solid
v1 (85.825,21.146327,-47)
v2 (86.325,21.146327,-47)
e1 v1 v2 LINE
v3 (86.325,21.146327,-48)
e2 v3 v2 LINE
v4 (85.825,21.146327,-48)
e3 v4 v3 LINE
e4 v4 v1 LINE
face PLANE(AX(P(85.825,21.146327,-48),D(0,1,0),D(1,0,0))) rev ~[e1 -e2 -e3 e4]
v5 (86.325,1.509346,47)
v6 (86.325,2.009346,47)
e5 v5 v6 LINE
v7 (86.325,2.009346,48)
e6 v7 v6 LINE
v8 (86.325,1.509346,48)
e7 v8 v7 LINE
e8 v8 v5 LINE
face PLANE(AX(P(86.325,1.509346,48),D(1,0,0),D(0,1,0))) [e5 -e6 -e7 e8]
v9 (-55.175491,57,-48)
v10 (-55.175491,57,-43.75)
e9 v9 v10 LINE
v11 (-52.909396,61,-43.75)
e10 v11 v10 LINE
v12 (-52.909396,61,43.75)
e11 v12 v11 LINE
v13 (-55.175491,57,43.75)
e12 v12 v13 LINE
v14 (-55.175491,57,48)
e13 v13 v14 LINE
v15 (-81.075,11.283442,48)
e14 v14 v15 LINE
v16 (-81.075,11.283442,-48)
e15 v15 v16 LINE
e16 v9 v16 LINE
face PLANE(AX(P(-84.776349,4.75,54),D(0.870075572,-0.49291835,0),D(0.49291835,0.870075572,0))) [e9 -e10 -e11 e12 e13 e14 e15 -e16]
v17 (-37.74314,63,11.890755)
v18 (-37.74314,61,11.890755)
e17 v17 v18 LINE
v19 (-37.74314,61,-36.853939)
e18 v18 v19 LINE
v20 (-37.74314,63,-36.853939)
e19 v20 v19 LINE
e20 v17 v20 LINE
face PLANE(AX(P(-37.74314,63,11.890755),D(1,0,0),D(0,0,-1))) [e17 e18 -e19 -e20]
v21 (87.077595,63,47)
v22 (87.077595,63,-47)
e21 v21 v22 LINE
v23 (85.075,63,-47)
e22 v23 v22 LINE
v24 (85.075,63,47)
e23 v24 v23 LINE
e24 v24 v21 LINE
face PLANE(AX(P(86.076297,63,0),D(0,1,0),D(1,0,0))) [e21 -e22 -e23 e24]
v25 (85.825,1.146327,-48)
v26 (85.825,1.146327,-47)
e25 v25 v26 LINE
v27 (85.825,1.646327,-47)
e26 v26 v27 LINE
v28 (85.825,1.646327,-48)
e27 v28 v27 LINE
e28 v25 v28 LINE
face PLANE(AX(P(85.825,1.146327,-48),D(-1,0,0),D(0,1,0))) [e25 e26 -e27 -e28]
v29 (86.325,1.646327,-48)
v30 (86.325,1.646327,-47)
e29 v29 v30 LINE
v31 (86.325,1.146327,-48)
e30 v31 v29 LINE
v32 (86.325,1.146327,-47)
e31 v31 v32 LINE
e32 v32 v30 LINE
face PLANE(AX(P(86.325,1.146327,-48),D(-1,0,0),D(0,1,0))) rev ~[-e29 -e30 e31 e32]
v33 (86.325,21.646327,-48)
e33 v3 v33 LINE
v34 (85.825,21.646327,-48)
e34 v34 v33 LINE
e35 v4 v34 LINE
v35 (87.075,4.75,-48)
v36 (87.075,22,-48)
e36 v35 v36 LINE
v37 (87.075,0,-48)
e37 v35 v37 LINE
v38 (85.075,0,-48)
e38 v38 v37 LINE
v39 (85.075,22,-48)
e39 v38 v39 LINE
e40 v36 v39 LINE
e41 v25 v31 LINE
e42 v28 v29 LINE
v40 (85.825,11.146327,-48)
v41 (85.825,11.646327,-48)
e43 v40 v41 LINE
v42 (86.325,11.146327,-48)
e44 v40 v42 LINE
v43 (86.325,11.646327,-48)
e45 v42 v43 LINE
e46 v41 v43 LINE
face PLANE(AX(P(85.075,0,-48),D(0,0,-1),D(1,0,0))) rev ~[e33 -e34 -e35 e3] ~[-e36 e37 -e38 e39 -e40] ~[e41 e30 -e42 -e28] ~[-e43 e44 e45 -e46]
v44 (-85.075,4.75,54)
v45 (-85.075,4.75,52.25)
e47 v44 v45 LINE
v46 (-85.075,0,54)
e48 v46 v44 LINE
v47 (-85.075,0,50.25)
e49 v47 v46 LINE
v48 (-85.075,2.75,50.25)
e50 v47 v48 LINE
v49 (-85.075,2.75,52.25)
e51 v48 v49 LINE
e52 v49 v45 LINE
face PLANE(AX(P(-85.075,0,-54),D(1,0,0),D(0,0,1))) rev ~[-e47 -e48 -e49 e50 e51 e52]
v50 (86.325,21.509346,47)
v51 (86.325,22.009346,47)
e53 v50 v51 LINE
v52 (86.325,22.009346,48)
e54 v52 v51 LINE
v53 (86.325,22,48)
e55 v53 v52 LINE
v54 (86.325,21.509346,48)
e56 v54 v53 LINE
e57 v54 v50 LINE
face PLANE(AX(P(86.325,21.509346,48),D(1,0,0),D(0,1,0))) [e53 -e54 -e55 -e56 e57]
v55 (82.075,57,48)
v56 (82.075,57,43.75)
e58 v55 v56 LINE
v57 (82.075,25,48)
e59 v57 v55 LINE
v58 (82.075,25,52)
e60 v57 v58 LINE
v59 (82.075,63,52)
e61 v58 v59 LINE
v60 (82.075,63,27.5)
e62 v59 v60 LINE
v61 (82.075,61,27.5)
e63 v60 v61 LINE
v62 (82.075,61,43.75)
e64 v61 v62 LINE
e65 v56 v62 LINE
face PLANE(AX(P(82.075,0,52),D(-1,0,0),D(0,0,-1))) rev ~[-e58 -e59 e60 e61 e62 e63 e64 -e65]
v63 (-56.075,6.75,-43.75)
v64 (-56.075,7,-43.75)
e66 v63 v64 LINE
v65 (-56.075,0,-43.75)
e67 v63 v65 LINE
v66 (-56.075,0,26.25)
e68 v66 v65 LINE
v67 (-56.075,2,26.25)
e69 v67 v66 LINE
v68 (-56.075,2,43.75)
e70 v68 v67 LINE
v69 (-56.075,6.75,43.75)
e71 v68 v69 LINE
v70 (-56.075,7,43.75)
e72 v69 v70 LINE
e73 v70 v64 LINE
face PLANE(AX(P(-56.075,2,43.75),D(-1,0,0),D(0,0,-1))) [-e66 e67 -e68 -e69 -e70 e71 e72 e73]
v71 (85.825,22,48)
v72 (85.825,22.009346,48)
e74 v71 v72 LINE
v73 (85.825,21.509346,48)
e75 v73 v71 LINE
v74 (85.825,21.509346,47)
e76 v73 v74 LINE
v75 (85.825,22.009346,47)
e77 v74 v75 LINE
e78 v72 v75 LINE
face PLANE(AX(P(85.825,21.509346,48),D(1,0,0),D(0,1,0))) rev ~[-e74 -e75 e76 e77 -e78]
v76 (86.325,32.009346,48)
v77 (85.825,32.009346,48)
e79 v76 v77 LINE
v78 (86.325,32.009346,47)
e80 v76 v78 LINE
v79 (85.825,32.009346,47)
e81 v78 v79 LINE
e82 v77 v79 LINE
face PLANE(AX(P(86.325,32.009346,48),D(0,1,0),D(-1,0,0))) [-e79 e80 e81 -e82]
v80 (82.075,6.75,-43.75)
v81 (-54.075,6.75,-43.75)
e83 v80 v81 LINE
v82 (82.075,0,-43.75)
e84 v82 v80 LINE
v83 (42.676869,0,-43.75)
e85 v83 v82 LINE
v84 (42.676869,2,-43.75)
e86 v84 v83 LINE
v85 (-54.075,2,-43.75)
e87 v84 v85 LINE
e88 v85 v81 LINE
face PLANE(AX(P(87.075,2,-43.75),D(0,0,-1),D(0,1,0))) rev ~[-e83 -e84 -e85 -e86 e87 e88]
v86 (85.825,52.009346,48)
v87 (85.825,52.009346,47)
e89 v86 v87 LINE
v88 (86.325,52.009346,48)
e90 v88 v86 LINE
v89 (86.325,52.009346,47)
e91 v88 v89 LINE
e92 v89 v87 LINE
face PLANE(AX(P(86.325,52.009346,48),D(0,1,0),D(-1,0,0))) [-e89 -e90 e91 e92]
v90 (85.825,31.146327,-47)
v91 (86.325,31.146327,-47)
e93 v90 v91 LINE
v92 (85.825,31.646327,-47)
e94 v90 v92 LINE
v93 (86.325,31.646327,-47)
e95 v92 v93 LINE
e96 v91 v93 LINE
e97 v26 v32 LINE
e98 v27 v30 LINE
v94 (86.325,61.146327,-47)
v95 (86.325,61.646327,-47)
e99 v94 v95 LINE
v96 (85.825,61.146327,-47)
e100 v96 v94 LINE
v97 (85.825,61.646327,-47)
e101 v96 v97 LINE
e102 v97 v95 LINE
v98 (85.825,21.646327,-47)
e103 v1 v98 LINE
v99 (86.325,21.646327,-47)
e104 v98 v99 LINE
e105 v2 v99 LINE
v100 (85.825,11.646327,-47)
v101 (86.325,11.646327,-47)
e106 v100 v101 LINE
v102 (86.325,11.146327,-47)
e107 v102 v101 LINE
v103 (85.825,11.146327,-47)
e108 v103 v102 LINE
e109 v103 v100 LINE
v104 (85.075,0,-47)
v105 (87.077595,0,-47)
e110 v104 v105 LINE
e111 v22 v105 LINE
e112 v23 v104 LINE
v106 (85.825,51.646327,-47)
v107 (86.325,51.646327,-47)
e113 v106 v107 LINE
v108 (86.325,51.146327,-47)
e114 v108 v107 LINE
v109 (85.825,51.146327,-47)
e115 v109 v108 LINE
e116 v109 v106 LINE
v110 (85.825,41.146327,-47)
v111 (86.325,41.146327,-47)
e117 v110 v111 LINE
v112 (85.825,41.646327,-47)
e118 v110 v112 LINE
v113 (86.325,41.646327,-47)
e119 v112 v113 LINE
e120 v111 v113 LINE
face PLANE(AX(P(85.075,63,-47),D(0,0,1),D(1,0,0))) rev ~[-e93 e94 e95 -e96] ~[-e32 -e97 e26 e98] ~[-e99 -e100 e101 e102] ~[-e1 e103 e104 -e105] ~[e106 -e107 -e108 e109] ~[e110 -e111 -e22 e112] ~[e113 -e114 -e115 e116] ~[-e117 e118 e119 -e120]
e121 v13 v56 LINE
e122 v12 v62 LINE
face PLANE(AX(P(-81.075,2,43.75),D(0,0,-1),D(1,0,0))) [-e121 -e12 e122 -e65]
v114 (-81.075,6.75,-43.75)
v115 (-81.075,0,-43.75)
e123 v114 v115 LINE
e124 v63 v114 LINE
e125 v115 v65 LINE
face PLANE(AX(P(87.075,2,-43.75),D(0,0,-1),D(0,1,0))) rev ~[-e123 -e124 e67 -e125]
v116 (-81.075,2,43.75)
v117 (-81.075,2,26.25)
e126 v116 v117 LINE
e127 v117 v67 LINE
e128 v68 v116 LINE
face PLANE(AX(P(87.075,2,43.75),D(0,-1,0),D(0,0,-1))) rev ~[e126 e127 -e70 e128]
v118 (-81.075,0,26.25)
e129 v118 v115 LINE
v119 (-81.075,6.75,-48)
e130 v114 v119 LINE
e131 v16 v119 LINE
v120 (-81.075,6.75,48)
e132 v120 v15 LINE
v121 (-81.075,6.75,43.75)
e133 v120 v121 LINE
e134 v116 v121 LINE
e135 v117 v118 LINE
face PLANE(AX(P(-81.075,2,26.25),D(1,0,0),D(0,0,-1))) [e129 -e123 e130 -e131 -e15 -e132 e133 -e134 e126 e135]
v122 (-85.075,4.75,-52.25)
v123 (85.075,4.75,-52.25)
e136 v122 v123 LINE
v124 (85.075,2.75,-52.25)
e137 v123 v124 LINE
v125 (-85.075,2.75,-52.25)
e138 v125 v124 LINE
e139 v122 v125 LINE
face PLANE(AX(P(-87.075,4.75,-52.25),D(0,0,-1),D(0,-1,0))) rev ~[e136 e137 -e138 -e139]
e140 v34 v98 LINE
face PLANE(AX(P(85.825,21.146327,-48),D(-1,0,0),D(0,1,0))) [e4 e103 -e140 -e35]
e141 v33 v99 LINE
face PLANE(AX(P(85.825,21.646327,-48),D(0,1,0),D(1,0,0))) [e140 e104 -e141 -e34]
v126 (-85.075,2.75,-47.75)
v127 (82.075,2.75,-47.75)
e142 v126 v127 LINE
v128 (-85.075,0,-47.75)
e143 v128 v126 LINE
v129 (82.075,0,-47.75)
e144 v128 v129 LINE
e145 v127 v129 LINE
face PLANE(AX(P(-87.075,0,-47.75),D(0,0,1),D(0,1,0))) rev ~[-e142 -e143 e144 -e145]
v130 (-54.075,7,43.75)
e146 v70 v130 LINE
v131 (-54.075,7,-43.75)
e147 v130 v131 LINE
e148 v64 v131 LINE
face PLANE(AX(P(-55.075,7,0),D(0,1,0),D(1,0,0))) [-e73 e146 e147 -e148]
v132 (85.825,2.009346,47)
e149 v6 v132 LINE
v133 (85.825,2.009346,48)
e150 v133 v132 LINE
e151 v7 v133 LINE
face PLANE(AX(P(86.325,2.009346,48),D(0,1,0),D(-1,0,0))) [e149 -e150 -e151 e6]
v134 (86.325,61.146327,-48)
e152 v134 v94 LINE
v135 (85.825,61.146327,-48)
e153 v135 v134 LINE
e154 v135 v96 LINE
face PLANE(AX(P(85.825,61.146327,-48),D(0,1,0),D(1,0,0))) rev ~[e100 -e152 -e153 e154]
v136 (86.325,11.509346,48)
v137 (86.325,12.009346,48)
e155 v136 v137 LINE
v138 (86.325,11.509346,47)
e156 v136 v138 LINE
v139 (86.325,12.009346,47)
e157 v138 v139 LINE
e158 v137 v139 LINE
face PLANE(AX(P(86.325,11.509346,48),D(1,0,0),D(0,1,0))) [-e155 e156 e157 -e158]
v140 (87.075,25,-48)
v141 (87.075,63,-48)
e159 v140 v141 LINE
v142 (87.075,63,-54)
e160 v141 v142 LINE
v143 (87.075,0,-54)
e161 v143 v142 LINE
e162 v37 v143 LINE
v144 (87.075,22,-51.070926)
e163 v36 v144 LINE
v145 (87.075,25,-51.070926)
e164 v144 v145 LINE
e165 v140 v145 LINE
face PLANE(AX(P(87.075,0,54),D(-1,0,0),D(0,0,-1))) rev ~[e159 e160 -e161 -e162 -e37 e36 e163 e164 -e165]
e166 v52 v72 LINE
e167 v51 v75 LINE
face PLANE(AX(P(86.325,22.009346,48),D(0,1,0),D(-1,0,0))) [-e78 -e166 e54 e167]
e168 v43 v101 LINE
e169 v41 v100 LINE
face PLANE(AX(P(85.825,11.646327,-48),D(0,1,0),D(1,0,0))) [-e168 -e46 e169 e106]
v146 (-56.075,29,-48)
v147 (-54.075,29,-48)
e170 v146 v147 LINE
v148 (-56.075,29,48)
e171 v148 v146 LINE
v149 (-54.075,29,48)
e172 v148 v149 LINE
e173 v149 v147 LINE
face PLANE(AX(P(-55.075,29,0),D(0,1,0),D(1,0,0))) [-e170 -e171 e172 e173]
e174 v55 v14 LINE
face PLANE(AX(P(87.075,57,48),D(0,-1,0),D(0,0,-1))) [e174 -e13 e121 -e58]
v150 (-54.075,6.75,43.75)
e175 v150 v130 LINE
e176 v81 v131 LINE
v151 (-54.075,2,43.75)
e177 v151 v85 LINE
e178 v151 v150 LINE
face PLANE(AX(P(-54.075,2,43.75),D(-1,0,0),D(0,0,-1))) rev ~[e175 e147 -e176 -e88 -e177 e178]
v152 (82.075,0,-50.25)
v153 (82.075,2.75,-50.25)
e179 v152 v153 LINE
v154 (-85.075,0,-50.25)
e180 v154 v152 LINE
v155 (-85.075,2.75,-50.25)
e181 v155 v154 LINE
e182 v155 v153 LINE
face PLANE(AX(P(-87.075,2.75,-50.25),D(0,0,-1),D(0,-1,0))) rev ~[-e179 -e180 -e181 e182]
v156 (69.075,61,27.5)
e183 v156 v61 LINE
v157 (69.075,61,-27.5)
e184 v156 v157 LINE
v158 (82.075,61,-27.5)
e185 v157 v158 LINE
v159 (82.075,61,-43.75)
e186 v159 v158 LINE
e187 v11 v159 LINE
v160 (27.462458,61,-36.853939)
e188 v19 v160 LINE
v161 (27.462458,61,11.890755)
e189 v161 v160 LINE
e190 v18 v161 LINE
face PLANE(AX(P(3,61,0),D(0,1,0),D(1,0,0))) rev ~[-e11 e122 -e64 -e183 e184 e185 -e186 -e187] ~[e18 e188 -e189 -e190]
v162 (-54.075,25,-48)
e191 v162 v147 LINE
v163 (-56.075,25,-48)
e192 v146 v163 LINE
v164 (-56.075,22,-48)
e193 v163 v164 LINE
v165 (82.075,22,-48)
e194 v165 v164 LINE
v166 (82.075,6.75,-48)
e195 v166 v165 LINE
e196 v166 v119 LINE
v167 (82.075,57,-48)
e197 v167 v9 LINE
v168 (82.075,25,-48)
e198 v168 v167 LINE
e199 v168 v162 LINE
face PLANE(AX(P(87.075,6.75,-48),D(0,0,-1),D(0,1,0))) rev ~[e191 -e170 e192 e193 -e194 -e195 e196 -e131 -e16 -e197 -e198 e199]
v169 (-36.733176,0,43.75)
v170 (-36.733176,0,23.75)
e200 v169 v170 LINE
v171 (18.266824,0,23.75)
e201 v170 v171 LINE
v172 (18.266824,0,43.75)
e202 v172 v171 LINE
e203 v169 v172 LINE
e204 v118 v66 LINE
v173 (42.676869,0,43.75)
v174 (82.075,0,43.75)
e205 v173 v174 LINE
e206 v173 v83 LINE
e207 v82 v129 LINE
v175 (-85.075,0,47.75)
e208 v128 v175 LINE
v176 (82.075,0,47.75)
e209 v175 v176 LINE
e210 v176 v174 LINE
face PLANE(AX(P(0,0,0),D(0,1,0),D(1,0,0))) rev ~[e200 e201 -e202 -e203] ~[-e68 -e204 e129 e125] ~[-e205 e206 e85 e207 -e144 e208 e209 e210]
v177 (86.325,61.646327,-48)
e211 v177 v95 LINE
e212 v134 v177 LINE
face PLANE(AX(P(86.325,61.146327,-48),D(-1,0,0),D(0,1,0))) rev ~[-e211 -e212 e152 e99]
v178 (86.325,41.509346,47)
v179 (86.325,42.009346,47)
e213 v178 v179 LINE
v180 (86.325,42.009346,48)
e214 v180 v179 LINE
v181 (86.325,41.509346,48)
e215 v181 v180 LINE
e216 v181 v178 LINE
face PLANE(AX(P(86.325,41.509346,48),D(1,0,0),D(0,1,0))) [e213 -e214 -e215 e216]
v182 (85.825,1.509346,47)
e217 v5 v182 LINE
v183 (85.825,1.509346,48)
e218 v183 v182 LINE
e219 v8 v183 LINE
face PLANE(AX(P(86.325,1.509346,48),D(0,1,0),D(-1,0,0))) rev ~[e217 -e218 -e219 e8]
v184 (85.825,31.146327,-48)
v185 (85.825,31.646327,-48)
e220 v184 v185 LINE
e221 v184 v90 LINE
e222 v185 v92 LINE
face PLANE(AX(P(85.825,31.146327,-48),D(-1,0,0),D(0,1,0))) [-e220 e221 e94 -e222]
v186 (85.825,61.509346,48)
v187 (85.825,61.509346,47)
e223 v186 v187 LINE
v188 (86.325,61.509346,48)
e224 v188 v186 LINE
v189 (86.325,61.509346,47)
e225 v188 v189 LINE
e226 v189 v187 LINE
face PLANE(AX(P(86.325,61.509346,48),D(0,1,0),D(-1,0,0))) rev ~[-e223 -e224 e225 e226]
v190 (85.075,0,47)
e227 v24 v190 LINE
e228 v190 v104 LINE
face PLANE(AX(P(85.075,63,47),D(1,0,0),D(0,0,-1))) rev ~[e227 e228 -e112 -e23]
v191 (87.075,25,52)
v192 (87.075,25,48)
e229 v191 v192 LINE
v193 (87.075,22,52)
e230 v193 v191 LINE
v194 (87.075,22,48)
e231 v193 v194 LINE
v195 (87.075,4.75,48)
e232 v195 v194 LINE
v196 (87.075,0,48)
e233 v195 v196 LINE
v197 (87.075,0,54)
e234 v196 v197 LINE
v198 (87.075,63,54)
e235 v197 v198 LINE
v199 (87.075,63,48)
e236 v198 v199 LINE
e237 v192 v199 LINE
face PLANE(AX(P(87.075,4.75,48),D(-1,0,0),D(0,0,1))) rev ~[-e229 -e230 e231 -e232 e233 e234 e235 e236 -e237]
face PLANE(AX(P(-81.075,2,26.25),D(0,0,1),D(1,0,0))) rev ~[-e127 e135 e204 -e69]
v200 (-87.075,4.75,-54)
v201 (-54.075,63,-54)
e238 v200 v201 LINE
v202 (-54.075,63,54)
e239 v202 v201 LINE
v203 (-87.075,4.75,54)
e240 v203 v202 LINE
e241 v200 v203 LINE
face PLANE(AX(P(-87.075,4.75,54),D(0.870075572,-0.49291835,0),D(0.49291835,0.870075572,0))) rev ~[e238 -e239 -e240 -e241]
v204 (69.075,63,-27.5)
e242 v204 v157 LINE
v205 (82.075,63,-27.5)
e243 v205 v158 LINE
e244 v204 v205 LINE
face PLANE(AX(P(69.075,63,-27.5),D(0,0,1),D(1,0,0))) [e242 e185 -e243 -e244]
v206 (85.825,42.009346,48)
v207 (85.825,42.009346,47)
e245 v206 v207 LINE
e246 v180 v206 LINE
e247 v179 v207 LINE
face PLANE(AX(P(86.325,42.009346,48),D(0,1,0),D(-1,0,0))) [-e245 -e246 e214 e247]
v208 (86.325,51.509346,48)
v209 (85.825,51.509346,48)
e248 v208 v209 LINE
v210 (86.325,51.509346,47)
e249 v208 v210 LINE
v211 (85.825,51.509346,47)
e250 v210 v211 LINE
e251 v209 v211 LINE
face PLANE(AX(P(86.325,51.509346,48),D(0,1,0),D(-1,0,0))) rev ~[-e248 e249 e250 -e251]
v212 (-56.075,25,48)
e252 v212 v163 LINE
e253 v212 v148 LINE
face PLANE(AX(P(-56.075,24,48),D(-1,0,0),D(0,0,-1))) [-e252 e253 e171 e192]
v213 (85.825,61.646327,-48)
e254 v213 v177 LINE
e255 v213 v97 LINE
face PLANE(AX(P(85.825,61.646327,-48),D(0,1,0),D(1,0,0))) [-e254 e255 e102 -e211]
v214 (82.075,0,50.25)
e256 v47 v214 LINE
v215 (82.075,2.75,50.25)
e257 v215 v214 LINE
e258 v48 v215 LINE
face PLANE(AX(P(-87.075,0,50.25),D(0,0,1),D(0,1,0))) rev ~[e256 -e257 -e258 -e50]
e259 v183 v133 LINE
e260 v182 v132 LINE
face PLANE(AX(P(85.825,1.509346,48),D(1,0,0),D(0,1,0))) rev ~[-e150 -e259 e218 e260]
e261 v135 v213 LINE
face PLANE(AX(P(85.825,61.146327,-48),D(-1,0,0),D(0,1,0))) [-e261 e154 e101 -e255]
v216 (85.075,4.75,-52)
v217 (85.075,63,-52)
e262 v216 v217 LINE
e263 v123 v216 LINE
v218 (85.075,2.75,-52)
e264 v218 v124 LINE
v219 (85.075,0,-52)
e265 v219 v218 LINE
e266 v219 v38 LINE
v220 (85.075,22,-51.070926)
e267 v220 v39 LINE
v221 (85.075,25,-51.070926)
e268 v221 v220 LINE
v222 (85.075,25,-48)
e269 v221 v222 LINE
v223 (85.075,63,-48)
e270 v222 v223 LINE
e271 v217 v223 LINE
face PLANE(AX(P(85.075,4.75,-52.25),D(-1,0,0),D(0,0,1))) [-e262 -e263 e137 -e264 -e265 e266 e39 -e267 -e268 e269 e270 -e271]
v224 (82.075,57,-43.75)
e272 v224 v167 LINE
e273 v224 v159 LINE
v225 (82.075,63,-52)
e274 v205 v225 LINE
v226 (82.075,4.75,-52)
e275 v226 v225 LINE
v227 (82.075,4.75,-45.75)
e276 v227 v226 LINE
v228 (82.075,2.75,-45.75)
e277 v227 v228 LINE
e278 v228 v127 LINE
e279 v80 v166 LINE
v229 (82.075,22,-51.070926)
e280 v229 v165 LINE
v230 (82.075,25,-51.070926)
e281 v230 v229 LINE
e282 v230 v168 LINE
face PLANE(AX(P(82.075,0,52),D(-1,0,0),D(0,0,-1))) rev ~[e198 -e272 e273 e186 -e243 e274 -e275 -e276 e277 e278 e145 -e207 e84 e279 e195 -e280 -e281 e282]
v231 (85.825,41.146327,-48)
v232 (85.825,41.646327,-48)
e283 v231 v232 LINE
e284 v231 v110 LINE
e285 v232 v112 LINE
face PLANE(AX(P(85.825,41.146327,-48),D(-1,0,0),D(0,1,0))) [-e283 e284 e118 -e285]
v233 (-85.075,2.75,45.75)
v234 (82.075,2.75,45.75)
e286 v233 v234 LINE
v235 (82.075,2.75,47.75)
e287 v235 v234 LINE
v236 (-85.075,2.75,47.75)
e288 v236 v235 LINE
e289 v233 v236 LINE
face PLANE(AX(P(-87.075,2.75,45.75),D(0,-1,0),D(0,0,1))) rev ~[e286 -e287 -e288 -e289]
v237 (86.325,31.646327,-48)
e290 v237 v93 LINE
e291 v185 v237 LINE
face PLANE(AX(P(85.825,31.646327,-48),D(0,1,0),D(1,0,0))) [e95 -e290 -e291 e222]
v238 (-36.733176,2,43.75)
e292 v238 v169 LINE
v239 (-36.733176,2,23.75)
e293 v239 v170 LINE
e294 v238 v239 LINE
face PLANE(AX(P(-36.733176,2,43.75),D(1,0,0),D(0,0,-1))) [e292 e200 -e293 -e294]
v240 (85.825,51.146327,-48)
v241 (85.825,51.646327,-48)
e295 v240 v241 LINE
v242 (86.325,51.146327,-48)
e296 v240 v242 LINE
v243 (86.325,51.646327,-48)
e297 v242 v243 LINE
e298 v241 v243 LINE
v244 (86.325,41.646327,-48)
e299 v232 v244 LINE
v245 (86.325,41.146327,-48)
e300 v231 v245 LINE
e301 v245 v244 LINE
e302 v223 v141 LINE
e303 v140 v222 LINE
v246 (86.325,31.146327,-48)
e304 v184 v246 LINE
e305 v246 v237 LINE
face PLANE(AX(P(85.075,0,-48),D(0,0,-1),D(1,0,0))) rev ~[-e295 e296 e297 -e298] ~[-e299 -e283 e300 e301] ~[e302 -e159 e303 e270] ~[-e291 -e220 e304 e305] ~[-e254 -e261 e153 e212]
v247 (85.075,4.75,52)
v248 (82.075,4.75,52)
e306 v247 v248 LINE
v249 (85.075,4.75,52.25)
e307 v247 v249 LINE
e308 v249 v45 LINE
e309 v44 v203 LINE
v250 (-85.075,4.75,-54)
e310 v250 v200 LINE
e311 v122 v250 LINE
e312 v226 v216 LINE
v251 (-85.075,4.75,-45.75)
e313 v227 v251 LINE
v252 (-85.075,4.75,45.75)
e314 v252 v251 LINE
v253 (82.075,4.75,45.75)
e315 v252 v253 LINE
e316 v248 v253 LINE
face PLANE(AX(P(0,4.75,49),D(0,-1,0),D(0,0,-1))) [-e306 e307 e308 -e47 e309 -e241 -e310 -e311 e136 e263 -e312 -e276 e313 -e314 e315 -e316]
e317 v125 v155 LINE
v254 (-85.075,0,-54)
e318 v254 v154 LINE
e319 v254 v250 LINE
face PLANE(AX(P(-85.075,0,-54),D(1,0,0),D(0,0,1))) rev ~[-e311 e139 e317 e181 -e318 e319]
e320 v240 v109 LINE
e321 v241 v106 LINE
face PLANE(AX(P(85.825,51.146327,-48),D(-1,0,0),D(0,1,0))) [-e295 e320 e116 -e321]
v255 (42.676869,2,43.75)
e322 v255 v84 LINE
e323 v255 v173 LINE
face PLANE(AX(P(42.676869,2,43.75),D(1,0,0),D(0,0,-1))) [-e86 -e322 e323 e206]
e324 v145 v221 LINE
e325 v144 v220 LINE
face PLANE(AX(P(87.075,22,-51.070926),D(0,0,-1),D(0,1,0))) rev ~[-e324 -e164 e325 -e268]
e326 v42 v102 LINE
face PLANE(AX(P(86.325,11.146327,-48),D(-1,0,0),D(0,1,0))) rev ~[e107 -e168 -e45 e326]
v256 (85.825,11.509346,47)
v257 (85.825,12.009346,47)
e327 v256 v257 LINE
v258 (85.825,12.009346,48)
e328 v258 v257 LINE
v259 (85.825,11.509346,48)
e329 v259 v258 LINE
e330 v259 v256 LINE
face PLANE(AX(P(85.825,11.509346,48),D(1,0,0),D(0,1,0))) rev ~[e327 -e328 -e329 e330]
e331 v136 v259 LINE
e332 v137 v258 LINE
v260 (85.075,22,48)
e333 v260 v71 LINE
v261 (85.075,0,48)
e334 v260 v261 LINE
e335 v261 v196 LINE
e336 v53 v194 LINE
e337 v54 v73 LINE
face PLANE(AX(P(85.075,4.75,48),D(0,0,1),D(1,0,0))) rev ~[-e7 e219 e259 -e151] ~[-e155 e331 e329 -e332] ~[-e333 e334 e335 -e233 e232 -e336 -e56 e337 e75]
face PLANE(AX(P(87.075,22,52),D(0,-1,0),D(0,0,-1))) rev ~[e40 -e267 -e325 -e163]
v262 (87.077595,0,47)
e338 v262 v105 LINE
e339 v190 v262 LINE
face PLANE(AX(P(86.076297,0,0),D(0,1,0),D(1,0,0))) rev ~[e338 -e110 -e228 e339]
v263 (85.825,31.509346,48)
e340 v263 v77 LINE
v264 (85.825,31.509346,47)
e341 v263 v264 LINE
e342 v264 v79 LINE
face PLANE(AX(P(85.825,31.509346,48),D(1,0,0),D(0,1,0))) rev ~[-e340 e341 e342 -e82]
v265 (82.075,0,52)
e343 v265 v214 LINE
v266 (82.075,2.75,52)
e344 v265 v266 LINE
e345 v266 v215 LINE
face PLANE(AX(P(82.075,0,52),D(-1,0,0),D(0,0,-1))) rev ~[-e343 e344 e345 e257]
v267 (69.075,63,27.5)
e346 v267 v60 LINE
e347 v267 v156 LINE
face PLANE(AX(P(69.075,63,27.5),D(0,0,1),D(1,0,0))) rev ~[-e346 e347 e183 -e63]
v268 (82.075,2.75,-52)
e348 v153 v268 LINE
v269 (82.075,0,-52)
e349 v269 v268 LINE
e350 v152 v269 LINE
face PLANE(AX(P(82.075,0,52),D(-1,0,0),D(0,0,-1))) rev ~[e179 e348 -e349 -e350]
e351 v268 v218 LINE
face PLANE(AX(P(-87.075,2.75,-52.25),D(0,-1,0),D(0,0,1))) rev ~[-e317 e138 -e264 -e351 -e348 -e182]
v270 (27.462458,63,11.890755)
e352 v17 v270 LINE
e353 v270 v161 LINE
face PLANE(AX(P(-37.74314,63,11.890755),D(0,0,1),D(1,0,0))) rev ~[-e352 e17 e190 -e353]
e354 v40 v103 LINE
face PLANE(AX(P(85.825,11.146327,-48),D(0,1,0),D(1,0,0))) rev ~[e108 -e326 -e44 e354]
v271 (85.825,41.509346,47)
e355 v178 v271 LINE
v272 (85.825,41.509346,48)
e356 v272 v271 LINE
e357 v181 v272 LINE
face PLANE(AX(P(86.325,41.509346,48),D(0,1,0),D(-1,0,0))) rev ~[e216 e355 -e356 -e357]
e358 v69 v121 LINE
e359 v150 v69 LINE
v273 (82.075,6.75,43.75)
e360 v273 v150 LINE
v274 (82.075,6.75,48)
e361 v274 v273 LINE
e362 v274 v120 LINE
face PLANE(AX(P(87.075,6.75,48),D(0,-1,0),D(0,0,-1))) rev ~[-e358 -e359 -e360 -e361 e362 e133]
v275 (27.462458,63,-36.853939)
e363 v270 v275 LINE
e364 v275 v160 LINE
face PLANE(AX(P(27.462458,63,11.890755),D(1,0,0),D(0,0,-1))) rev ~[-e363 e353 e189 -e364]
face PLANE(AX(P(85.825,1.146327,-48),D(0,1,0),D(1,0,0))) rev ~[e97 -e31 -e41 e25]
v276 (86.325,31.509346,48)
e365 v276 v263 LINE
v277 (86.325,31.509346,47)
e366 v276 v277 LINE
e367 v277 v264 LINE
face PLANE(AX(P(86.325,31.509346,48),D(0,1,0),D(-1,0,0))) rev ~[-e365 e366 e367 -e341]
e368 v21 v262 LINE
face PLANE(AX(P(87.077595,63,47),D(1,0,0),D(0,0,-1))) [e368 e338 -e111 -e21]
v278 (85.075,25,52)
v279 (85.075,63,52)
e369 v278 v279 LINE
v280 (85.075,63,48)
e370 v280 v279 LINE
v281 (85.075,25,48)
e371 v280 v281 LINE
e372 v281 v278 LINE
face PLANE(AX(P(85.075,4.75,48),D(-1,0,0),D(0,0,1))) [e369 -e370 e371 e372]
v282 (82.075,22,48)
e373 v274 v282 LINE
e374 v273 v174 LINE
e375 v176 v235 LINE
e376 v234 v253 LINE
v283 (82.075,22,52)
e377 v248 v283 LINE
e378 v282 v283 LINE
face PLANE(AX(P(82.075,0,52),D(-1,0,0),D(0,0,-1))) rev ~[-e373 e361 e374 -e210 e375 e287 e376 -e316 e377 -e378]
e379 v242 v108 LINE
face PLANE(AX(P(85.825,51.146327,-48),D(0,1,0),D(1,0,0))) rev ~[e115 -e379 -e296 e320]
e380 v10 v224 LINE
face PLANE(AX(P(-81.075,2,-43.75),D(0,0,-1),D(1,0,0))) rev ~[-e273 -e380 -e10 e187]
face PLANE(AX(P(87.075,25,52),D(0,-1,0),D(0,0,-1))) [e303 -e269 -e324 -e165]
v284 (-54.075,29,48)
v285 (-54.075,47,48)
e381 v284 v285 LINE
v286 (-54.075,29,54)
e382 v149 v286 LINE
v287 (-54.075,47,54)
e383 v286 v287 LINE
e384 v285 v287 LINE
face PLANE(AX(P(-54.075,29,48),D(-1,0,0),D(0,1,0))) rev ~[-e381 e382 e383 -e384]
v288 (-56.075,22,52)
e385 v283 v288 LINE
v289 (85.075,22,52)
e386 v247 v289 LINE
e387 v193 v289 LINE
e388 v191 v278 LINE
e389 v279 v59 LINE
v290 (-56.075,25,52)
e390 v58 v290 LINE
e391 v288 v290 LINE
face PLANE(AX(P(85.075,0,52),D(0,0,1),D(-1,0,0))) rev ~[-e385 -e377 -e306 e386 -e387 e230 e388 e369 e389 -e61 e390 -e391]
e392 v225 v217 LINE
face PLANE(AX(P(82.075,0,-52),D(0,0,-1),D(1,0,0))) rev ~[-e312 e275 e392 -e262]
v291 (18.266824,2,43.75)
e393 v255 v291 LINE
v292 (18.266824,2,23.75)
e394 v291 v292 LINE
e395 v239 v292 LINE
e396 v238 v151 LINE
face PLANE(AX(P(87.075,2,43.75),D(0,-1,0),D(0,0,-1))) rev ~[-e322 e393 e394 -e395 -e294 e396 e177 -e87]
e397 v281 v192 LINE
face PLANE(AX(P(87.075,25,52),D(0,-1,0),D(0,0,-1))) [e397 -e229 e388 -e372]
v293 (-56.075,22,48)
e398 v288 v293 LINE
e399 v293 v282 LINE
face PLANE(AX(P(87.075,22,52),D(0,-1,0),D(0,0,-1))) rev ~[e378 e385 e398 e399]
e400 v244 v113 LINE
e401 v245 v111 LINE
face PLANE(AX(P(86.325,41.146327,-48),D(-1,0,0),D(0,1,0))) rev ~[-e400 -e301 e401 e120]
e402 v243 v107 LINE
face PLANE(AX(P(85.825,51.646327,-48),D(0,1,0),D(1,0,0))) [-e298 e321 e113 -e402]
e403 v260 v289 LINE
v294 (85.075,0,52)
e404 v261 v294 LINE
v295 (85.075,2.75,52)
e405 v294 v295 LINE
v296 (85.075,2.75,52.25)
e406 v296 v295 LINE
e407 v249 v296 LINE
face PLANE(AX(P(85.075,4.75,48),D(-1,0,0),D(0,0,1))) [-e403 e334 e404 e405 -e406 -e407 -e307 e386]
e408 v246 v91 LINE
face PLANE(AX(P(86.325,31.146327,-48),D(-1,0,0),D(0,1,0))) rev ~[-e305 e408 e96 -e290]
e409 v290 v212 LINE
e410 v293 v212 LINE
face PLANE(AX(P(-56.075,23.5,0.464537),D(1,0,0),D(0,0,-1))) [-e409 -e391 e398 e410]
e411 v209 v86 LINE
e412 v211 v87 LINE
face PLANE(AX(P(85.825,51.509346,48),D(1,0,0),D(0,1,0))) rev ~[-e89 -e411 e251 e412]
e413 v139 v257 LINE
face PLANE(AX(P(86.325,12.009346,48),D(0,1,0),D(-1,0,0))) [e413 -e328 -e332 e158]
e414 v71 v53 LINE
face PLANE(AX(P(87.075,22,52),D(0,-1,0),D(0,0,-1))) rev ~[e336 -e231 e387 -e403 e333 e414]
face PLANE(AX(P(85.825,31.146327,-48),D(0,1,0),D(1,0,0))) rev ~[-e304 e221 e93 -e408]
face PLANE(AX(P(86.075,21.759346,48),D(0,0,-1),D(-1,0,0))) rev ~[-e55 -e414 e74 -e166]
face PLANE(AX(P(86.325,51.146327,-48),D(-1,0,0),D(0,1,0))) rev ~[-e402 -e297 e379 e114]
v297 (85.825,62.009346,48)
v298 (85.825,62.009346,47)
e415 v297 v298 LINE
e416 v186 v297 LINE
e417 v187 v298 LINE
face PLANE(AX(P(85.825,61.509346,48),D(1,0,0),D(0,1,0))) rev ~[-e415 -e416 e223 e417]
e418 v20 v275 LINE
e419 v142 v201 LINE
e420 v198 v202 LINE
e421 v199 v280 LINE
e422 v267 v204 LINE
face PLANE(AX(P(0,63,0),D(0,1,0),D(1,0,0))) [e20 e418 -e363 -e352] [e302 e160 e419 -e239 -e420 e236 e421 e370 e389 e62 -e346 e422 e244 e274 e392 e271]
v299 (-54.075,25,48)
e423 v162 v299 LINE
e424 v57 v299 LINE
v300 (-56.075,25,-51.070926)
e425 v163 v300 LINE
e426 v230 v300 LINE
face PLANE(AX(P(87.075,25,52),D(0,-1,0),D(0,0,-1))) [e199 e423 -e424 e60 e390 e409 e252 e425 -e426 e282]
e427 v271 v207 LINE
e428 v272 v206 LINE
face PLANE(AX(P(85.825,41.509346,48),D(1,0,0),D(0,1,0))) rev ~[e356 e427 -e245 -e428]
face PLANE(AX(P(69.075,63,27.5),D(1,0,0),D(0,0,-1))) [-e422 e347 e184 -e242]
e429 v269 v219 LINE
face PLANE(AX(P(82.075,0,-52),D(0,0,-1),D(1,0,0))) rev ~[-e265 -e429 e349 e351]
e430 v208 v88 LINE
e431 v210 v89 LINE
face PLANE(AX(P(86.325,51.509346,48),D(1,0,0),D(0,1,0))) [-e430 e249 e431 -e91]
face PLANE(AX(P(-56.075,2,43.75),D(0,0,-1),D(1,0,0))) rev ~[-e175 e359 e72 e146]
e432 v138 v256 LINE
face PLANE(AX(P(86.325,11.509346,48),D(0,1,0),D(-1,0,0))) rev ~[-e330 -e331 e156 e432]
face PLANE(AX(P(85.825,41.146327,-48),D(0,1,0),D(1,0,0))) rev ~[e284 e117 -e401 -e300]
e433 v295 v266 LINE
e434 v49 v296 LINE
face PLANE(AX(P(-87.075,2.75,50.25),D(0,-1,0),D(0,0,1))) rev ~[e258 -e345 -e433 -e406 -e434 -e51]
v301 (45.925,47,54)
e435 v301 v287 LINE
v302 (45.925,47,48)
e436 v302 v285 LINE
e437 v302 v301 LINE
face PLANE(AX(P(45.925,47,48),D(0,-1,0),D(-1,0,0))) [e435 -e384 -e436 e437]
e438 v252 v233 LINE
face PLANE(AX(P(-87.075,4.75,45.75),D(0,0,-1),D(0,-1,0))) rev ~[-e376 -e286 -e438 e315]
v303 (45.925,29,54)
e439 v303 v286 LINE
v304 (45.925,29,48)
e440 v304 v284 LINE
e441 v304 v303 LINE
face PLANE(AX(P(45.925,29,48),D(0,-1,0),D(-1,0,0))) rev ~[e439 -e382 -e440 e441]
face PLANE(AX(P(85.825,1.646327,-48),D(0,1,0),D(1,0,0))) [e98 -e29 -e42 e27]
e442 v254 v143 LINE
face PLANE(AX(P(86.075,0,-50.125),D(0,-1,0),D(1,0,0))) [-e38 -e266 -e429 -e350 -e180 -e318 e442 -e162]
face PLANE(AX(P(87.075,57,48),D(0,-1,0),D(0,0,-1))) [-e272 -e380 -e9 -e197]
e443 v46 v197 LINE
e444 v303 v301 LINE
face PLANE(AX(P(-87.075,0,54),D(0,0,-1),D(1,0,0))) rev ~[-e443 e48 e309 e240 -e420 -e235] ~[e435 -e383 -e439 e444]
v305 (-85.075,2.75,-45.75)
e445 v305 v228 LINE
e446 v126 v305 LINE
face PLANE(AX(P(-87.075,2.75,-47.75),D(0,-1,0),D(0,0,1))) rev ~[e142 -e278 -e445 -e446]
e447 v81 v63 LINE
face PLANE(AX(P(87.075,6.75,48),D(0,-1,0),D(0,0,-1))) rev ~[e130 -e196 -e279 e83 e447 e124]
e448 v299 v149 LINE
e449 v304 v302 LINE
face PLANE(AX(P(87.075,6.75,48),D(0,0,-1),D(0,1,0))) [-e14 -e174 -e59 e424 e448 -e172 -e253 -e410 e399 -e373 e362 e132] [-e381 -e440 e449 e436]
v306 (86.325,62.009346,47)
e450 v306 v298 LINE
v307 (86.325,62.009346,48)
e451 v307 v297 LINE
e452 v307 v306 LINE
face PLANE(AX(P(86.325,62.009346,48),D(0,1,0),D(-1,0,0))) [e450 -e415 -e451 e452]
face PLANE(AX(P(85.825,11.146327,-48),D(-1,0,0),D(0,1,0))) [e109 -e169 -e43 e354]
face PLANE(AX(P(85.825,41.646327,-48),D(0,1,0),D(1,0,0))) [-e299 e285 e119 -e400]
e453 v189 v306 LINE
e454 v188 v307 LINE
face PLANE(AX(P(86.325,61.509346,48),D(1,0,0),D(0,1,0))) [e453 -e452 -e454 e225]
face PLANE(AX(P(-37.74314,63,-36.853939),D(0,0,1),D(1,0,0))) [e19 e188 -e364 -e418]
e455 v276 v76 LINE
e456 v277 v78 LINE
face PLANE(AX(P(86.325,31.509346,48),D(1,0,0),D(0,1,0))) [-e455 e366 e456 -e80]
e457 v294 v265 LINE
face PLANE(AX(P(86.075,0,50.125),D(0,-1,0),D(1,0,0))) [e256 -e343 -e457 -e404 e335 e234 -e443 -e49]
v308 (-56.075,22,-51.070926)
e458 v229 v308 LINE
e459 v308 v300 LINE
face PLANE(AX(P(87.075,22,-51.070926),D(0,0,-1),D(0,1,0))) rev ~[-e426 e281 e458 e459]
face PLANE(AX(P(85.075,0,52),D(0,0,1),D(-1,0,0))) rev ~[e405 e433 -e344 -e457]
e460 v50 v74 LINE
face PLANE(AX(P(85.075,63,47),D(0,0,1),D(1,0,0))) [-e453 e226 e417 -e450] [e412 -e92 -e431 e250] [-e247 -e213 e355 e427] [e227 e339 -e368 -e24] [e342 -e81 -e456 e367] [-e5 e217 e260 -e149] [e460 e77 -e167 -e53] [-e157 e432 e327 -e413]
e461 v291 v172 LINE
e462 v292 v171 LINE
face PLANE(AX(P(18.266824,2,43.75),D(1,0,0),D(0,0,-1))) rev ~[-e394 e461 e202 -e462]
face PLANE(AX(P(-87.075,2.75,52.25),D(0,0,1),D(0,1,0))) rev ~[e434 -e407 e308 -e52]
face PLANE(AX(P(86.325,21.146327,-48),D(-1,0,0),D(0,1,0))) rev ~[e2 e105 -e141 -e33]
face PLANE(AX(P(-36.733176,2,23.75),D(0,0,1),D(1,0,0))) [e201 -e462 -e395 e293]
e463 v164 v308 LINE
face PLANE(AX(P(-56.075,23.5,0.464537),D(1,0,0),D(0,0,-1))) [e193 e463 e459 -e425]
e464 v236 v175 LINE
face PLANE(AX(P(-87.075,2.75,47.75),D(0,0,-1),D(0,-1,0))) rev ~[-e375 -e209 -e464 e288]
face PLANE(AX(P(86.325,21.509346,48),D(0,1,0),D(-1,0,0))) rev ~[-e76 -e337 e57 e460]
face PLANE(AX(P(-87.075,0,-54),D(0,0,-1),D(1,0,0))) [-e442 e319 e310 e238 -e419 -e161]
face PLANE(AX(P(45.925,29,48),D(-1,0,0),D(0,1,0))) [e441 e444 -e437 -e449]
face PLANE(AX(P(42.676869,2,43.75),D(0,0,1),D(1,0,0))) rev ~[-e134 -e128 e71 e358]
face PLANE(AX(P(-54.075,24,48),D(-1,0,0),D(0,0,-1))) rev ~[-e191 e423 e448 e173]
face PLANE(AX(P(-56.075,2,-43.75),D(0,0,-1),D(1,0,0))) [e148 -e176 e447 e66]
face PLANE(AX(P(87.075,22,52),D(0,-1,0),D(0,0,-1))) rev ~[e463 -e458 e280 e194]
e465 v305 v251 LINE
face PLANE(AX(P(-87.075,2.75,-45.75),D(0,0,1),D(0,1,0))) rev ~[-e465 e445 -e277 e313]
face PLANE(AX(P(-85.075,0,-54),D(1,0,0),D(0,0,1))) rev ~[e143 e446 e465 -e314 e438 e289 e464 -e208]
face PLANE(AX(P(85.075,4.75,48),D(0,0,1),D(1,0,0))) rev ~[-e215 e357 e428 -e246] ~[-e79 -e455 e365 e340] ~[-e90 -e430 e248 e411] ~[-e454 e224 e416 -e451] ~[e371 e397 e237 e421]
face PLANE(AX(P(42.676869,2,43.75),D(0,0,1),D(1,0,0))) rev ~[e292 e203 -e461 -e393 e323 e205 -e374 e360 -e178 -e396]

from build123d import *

# Parameters (mm, degrees)
SKETCH_1_W           = 174.15
SKETCH_1_H           = 108
EXTRUDE_1_DEPTH      = 63
CUT_EXTRUDE_2_DEPTH  = 174.15
CUT_EXTRUDE_3_REACH  = 122.279
SKETCH_6_W           = 2
SKETCH_6_H           = 108
SKETCH_7_W           = 96
SKETCH_7_H           = 50.25
CUT_EXTRUDE_5_DEPTH  = 168.15
SKETCH_8_W           = 87.5
SKETCH_8_H           = 4.75
CUT_EXTRUDE_6_DEPTH  = 168.15
SKETCH_10_W          = 168.15
SKETCH_10_H          = 87.5
CUT_EXTRUDE_8_DEPTH  = 59
SKETCH_12_W          = 168.15
SKETCH_12_H          = 96
EXTRUDE_2_DEPTH      = 2
SKETCH_15_W          = 25
SKETCH_15_H          = 70
SKETCH_15_W_2        = 55
SKETCH_15_H_2        = 20
SKETCH_15_W_3        = 44.398131355
SKETCH_15_H_3        = 87.5
CUT_EXTRUDE_9_DEPTH  = 2
SKETCH_16_W          = 25
SKETCH_16_H          = 96
SKETCH_16_W_2        = 32.283516817
CUT_EXTRUDE_10_DEPTH = 2
SKETCH_17_W          = 2
SKETCH_17_H          = 96
EXTRUDE_3_DEPTH      = 5
SKETCH_18_W          = 2
SKETCH_18_H          = 87.5
EXTRUDE_4_DEPTH      = 5
SKETCH_19_W          = 100
SKETCH_19_H          = 18
CUT_EXTRUDE_11_DEPTH = 6
CUT_EXTRUDE_12_REACH = 154.365
EXTRUDE_5_REACH      = 154.365
SKETCH_23_W          = 65.205598619
SKETCH_23_H          = 48.744694075
CUT_EXTRUDE_13_DEPTH = 2
CUT_EXTRUDE_START    = -63
CUT_EXTRUDE_14_DEPTH = 63
SKETCH_28_W          = 2
SKETCH_28_H          = 4.25
EXTRUDE_6_DEPTH      = 4.75
SKETCH_31_W          = 13
SKETCH_31_H          = 55
CUT_EXTRUDE_15_DEPTH = 10
SKETCH_34_W          = 103.070926165
SKETCH_34_H          = 3
CUT_EXTRUDE_16_DEPTH = 143.15
SKETCH_37_W          = 0.5
SKETCH_37_H          = 0.5
EXTRUDE_7_DEPTH      = 1
EXTRUDE_7_2_DEPTH    = 1
EXTRUDE_7_3_DEPTH    = 1
EXTRUDE_7_4_DEPTH    = 1
EXTRUDE_7_5_DEPTH    = 1
EXTRUDE_7_6_DEPTH    = 1
EXTRUDE_7_7_DEPTH    = 1
SKETCH_40_W          = 0.5
SKETCH_40_H          = 0.5
EXTRUDE_8_DEPTH      = 1
SKETCH_42_W          = 2.002594571
SKETCH_42_H          = 94
EXTRUDE_9_DEPTH      = 63


with BuildPart() as part:
    # 스케치1 → 보스-돌출1 (new body)
    with BuildSketch(Plane(origin=(0, 0, 0), x_dir=(1, 0, 0), z_dir=(0, 1, 0))):
        Rectangle(SKETCH_1_W, SKETCH_1_H)
    extrude(amount=EXTRUDE_1_DEPTH)

    # 스케치5 → 컷-돌출2 (cut)
    with BuildSketch(Plane.ZY.offset(87.075)):
        Polygon((-48, 0), (-47.75, 0), (-47.75, 2.75), (-45.75, 2.75), (-45.75, 4.75), (-52.25, 4.75), (-52.25, 2.75), (-50.25, 2.75), (-50.25, 0), (-50, 0), (-50, 3), (-52, 3), (-52, 4.5), (-46, 4.5), (-46, 3), (-48, 3), align=None)
        Polygon((-50, 0), (-48, 0), (-48, 3), (-46, 3), (-46, 4.5), (-52, 4.5), (-52, 3), (-50, 3), align=None)
        Polygon((50, 3), (50, 0), (50.25, 0), (50.25, 2.75), (52.25, 2.75), (52.25, 4.75), (45.75, 4.75), (45.75, 2.75), (47.75, 2.75), (47.75, 0), (48, 0), (48, 3), (46, 3), (46, 4.5), (52, 4.5), (52, 3), align=None)
        Polygon((48, 0), (50, 0), (50, 3), (52, 3), (52, 4.5), (46, 4.5), (46, 3), (48, 3), align=None)
    extrude(amount=-CUT_EXTRUDE_2_DEPTH, mode=Mode.SUBTRACT)

    # 컷-돌출3: up to this face of the body (flat: up to its plane)
    cut_extrude_3_end = Plane(part.part.faces().sort_by_distance((0, 4.75, 49))[0])
    # 스케치6 → 컷-돌출3 (cut, up to the picked face)
    with BuildSketch(Plane.XZ, mode=Mode.PRIVATE) as cut_extrude_3_sk1:
        with Locations((-86.075, 0)):
            Rectangle(SKETCH_6_W, SKETCH_6_H)
    cut_extrude_3_tool1 = split(extrude(cut_extrude_3_sk1.sketch, amount=-CUT_EXTRUDE_3_REACH, mode=Mode.PRIVATE), bisect_by=cut_extrude_3_end, keep=Keep.BOTH, mode=Mode.PRIVATE)
    add(cut_extrude_3_tool1.solids().sort_by(Axis((-86.075, 0, 0), (0, 1, 0)))[0], mode=Mode.SUBTRACT)

    # 스케치7 → 컷-돌출5 (cut)
    with BuildSketch(Plane(origin=(87.075, 0, 0), x_dir=(0, 0, -1), z_dir=(1, 0, 0))):
        with Locations((0, 31.875)):
            Rectangle(SKETCH_7_W, SKETCH_7_H)
    extrude(amount=-CUT_EXTRUDE_5_DEPTH, mode=Mode.SUBTRACT)

    # 스케치8 → 컷-돌출6 (cut)
    with BuildSketch(Plane(origin=(87.075, 0, 0), x_dir=(0, 0, -1), z_dir=(1, 0, 0))):
        with Locations((0, 4.375)):
            Rectangle(SKETCH_8_W, SKETCH_8_H)
    extrude(amount=-CUT_EXTRUDE_6_DEPTH, mode=Mode.SUBTRACT)

    # 스케치10 → 컷-돌출8 (cut)
    with BuildSketch(Plane(origin=(0, 2, 0), x_dir=(1, 0, 0), z_dir=(0, 1, 0))):
        with Locations((3, 0)):
            Rectangle(SKETCH_10_W, SKETCH_10_H)
    extrude(amount=CUT_EXTRUDE_8_DEPTH, mode=Mode.SUBTRACT)

    # 스케치12 → 보스-돌출2 (add)
    with BuildSketch(Plane(origin=(0, 24, 0), x_dir=(-1, 0, 0), z_dir=(0, -1, 0))):
        with Locations((-3, 0)):
            Rectangle(SKETCH_12_W, SKETCH_12_H)
    extrude(amount=EXTRUDE_2_DEPTH)

    # 스케치15 → 컷-돌출9 (cut)
    with BuildSketch(Plane(origin=(0, 2, 0), x_dir=(1, 0, 0), z_dir=(0, 1, 0))):
        with Locations((-68.575, 8.75)):
            Rectangle(SKETCH_15_W, SKETCH_15_H)
        with Locations((-9.233175572, -33.75)):
            Rectangle(SKETCH_15_W_2, SKETCH_15_H_2)
        with Locations((64.875934323, 0)):
            Rectangle(SKETCH_15_W_3, SKETCH_15_H_3)
    extrude(amount=-CUT_EXTRUDE_9_DEPTH, mode=Mode.SUBTRACT)

    # 스케치16 → 컷-돌출10 (cut)
    with BuildSketch(Plane(origin=(0, 24, 0), x_dir=(1, 0, 0), z_dir=(0, 1, 0))):
        with Locations((-68.575, 0)):
            Rectangle(SKETCH_16_W, SKETCH_16_H)
        with Locations((70.933241592, 0)):
            Rectangle(SKETCH_16_W_2, SKETCH_16_H)
    extrude(amount=-CUT_EXTRUDE_10_DEPTH, mode=Mode.SUBTRACT)

    # 스케치17 → 보스-돌출3 (add)
    with BuildSketch(Plane(origin=(0, 24, 0), x_dir=(1, 0, 0), z_dir=(0, 1, 0))):
        with Locations((-55.075, 0)):
            Rectangle(SKETCH_17_W, SKETCH_17_H)
    extrude(amount=EXTRUDE_3_DEPTH)

    # 스케치18 → 보스-돌출4 (add)
    with BuildSketch(Plane(origin=(0, 2, 0), x_dir=(1, 0, 0), z_dir=(0, 1, 0))):
        with Locations((-55.075, 0)):
            Rectangle(SKETCH_18_W, SKETCH_18_H)
    extrude(amount=EXTRUDE_4_DEPTH)

    # 스케치19 → 컷-돌출11 (cut)
    with BuildSketch(Plane(origin=(0, 0, 48), x_dir=(-1, 0, 0), z_dir=(0, 0, -1))):
        with Locations((4.075, 38)):
            Rectangle(SKETCH_19_W, SKETCH_19_H)
    extrude(amount=-CUT_EXTRUDE_11_DEPTH, mode=Mode.SUBTRACT)

    # 컷-돌출12: up to this face of the body (flat: up to its plane)
    cut_extrude_12_end = Plane(part.part.faces().sort_by_distance((0.074595533, 31.525240719, -54))[0])
    # 스케치20 → 컷-돌출12 (cut, up to the picked face)
    with BuildSketch(Plane.XY.offset(54), mode=Mode.PRIVATE) as cut_extrude_12_sk1:
        Polygon((-87.075, 4.75), (-54.075, 63), (-87.075, 63), align=None)
    cut_extrude_12_tool1 = split(extrude(cut_extrude_12_sk1.sketch, amount=-CUT_EXTRUDE_12_REACH, mode=Mode.PRIVATE), bisect_by=cut_extrude_12_end, keep=Keep.BOTH, mode=Mode.PRIVATE)
    add(cut_extrude_12_tool1.solids().sort_by(Axis((-76.075, 43.583333, 54), (0, 0, -1)))[0], mode=Mode.SUBTRACT)

    # 보스-돌출5: up to this face of the body (flat: up to its plane)
    extrude_5_end = Plane(part.part.faces().sort_by_distance((7.392919772, 30.366402897, -54))[0])
    # 스케치21 → 보스-돌출5 (add, up to the picked face)
    with BuildSketch(Plane.XY.offset(54), mode=Mode.PRIVATE) as extrude_5_sk1:
        Polygon((-87.075, 4.75), (-84.776349095, 4.75), (-51.776349095, 63), (-54.075, 63), align=None)
    extrude_5_tool1 = split(extrude(extrude_5_sk1.sketch, amount=-EXTRUDE_5_REACH, mode=Mode.PRIVATE), bisect_by=extrude_5_end, keep=Keep.BOTH, mode=Mode.PRIVATE)
    add(extrude_5_tool1.solids().sort_by(Axis((-69.425675, 33.875, 54), (0, 0, -1)))[0])

    # 스케치23 → 컷-돌출13 (cut)
    with BuildSketch(Plane(origin=(0, 63, 0), x_dir=(1, 0, 0), z_dir=(0, 1, 0))):
        with Locations((-5.140341164, 12.481591832)):
            Rectangle(SKETCH_23_W, SKETCH_23_H)
    extrude(amount=-CUT_EXTRUDE_13_DEPTH, mode=Mode.SUBTRACT)

    # 스케치26 → 컷-돌출14 (cut)
    with BuildSketch(Plane(origin=(0, 63, 0), x_dir=(1, 0, 0), z_dir=(0, 1, 0)).offset(CUT_EXTRUDE_START)):
        Polygon((82.075, 52), (85.075, 52), (85.075, 48), (87.075, 48), (87.075, -48), (85.075, -48), (85.075, -52), (82.075, -52), align=None)
    extrude(amount=CUT_EXTRUDE_14_DEPTH, mode=Mode.SUBTRACT)

    # 스케치28 → 보스-돌출6 (add)
    with BuildSketch(Plane.XZ.offset(-4.75)):
        with Locations((86.075, 50.125)):
            Rectangle(SKETCH_28_W, SKETCH_28_H)
        with Locations((86.075, -50.125)):
            Rectangle(SKETCH_28_W, SKETCH_28_H)
    extrude(amount=EXTRUDE_6_DEPTH)

    # 스케치31 → 컷-돌출15 (cut)
    with BuildSketch(Plane(origin=(0, 63, 0), x_dir=(1, 0, 0), z_dir=(0, 1, 0))):
        with Locations((75.575, 0)):
            Rectangle(SKETCH_31_W, SKETCH_31_H)
    extrude(amount=-CUT_EXTRUDE_15_DEPTH, mode=Mode.SUBTRACT)

    # 스케치34 → 컷-돌출16 (cut)
    with BuildSketch(Plane(origin=(87.075, 0, 0), x_dir=(0, 0, -1), z_dir=(1, 0, 0))):
        with Locations((-0.464536917, 23.5)):
            Rectangle(SKETCH_34_W, SKETCH_34_H)
    extrude(amount=-CUT_EXTRUDE_16_DEPTH, mode=Mode.SUBTRACT)

    # 스케치40 → 보스-돌출8 (add)
    with BuildSketch(Plane.XY.offset(-48)):
        with Locations((86.075, 61.396326998)):
            Rectangle(SKETCH_40_W, SKETCH_40_H)
        with Locations((86.075, 51.396326998)):
            Rectangle(SKETCH_40_W, SKETCH_40_H)
        with Locations((86.075, 41.396326998)):
            Rectangle(SKETCH_40_W, SKETCH_40_H)
        with Locations((86.075, 31.396326998)):
            Rectangle(SKETCH_40_W, SKETCH_40_H)
        with Locations((86.075, 21.396326998)):
            Rectangle(SKETCH_40_W, SKETCH_40_H)
        with Locations((86.075, 11.396326998)):
            Rectangle(SKETCH_40_W, SKETCH_40_H)
        with Locations((86.075, 1.396326998)):
            Rectangle(SKETCH_40_W, SKETCH_40_H)
    extrude(amount=EXTRUDE_8_DEPTH)



with BuildPart() as body_2:
    # 스케치37 → 보스-돌출7 (new body)
    with BuildSketch(Plane(origin=(0, 0, 48), x_dir=(-1, 0, 0), z_dir=(0, 0, -1))):
        with Locations((-86.075, 51.75934634)):
            Rectangle(SKETCH_37_W, SKETCH_37_H)
    extrude(amount=EXTRUDE_7_DEPTH)


with BuildPart() as body_3:
    # 스케치37 → Extrude 7 2 (new body)
    with BuildSketch(Plane(origin=(0, 0, 48), x_dir=(-1, 0, 0), z_dir=(0, 0, -1))):
        with Locations((-86.075, 61.75934634)):
            Rectangle(SKETCH_37_W, SKETCH_37_H)
    extrude(amount=EXTRUDE_7_2_DEPTH)


with BuildPart() as body_4:
    # 스케치37 → Extrude 7 3 (new body)
    with BuildSketch(Plane(origin=(0, 0, 48), x_dir=(-1, 0, 0), z_dir=(0, 0, -1))):
        with Locations((-86.075, 41.75934634)):
            Rectangle(SKETCH_37_W, SKETCH_37_H)
    extrude(amount=EXTRUDE_7_3_DEPTH)


with BuildPart() as body_5:
    # 스케치37 → Extrude 7 4 (new body)
    with BuildSketch(Plane(origin=(0, 0, 48), x_dir=(-1, 0, 0), z_dir=(0, 0, -1))):
        with Locations((-86.075, 31.75934634)):
            Rectangle(SKETCH_37_W, SKETCH_37_H)
    extrude(amount=EXTRUDE_7_4_DEPTH)


with BuildPart() as body_6:
    # 스케치37 → Extrude 7 5 (new body)
    with BuildSketch(Plane(origin=(0, 0, 48), x_dir=(-1, 0, 0), z_dir=(0, 0, -1))):
        with Locations((-86.075, 21.75934634)):
            Rectangle(SKETCH_37_W, SKETCH_37_H)
    extrude(amount=EXTRUDE_7_5_DEPTH)


with BuildPart() as body_7:
    # 스케치37 → Extrude 7 6 (new body)
    with BuildSketch(Plane(origin=(0, 0, 48), x_dir=(-1, 0, 0), z_dir=(0, 0, -1))):
        with Locations((-86.075, 11.75934634)):
            Rectangle(SKETCH_37_W, SKETCH_37_H)
    extrude(amount=EXTRUDE_7_6_DEPTH)


with BuildPart() as body_8:
    # 스케치37 → Extrude 7 7 (new body)
    with BuildSketch(Plane(origin=(0, 0, 48), x_dir=(-1, 0, 0), z_dir=(0, 0, -1))):
        with Locations((-86.075, 1.75934634)):
            Rectangle(SKETCH_37_W, SKETCH_37_H)
    extrude(amount=EXTRUDE_7_7_DEPTH)


with BuildPart() as part_1:
    add(part.part)

    add(body_2.part)  # 보스-돌출9 merges body 2

    add(body_3.part)  # 보스-돌출9 merges body 3

    add(body_4.part)  # 보스-돌출9 merges body 4

    add(body_5.part)  # 보스-돌출9 merges body 5

    add(body_6.part)  # 보스-돌출9 merges body 6

    add(body_7.part)  # 보스-돌출9 merges body 7

    add(body_8.part)  # 보스-돌출9 merges body 8
    # 스케치42 → 보스-돌출9 (add)
    with BuildSketch(Plane(origin=(0, 63, 0), x_dir=(1, 0, 0), z_dir=(0, 1, 0))):
        with Locations((86.076297286, 0)):
            Rectangle(SKETCH_42_W, SKETCH_42_H)
    extrude(amount=-EXTRUDE_9_DEPTH)


solid = part_1.part
